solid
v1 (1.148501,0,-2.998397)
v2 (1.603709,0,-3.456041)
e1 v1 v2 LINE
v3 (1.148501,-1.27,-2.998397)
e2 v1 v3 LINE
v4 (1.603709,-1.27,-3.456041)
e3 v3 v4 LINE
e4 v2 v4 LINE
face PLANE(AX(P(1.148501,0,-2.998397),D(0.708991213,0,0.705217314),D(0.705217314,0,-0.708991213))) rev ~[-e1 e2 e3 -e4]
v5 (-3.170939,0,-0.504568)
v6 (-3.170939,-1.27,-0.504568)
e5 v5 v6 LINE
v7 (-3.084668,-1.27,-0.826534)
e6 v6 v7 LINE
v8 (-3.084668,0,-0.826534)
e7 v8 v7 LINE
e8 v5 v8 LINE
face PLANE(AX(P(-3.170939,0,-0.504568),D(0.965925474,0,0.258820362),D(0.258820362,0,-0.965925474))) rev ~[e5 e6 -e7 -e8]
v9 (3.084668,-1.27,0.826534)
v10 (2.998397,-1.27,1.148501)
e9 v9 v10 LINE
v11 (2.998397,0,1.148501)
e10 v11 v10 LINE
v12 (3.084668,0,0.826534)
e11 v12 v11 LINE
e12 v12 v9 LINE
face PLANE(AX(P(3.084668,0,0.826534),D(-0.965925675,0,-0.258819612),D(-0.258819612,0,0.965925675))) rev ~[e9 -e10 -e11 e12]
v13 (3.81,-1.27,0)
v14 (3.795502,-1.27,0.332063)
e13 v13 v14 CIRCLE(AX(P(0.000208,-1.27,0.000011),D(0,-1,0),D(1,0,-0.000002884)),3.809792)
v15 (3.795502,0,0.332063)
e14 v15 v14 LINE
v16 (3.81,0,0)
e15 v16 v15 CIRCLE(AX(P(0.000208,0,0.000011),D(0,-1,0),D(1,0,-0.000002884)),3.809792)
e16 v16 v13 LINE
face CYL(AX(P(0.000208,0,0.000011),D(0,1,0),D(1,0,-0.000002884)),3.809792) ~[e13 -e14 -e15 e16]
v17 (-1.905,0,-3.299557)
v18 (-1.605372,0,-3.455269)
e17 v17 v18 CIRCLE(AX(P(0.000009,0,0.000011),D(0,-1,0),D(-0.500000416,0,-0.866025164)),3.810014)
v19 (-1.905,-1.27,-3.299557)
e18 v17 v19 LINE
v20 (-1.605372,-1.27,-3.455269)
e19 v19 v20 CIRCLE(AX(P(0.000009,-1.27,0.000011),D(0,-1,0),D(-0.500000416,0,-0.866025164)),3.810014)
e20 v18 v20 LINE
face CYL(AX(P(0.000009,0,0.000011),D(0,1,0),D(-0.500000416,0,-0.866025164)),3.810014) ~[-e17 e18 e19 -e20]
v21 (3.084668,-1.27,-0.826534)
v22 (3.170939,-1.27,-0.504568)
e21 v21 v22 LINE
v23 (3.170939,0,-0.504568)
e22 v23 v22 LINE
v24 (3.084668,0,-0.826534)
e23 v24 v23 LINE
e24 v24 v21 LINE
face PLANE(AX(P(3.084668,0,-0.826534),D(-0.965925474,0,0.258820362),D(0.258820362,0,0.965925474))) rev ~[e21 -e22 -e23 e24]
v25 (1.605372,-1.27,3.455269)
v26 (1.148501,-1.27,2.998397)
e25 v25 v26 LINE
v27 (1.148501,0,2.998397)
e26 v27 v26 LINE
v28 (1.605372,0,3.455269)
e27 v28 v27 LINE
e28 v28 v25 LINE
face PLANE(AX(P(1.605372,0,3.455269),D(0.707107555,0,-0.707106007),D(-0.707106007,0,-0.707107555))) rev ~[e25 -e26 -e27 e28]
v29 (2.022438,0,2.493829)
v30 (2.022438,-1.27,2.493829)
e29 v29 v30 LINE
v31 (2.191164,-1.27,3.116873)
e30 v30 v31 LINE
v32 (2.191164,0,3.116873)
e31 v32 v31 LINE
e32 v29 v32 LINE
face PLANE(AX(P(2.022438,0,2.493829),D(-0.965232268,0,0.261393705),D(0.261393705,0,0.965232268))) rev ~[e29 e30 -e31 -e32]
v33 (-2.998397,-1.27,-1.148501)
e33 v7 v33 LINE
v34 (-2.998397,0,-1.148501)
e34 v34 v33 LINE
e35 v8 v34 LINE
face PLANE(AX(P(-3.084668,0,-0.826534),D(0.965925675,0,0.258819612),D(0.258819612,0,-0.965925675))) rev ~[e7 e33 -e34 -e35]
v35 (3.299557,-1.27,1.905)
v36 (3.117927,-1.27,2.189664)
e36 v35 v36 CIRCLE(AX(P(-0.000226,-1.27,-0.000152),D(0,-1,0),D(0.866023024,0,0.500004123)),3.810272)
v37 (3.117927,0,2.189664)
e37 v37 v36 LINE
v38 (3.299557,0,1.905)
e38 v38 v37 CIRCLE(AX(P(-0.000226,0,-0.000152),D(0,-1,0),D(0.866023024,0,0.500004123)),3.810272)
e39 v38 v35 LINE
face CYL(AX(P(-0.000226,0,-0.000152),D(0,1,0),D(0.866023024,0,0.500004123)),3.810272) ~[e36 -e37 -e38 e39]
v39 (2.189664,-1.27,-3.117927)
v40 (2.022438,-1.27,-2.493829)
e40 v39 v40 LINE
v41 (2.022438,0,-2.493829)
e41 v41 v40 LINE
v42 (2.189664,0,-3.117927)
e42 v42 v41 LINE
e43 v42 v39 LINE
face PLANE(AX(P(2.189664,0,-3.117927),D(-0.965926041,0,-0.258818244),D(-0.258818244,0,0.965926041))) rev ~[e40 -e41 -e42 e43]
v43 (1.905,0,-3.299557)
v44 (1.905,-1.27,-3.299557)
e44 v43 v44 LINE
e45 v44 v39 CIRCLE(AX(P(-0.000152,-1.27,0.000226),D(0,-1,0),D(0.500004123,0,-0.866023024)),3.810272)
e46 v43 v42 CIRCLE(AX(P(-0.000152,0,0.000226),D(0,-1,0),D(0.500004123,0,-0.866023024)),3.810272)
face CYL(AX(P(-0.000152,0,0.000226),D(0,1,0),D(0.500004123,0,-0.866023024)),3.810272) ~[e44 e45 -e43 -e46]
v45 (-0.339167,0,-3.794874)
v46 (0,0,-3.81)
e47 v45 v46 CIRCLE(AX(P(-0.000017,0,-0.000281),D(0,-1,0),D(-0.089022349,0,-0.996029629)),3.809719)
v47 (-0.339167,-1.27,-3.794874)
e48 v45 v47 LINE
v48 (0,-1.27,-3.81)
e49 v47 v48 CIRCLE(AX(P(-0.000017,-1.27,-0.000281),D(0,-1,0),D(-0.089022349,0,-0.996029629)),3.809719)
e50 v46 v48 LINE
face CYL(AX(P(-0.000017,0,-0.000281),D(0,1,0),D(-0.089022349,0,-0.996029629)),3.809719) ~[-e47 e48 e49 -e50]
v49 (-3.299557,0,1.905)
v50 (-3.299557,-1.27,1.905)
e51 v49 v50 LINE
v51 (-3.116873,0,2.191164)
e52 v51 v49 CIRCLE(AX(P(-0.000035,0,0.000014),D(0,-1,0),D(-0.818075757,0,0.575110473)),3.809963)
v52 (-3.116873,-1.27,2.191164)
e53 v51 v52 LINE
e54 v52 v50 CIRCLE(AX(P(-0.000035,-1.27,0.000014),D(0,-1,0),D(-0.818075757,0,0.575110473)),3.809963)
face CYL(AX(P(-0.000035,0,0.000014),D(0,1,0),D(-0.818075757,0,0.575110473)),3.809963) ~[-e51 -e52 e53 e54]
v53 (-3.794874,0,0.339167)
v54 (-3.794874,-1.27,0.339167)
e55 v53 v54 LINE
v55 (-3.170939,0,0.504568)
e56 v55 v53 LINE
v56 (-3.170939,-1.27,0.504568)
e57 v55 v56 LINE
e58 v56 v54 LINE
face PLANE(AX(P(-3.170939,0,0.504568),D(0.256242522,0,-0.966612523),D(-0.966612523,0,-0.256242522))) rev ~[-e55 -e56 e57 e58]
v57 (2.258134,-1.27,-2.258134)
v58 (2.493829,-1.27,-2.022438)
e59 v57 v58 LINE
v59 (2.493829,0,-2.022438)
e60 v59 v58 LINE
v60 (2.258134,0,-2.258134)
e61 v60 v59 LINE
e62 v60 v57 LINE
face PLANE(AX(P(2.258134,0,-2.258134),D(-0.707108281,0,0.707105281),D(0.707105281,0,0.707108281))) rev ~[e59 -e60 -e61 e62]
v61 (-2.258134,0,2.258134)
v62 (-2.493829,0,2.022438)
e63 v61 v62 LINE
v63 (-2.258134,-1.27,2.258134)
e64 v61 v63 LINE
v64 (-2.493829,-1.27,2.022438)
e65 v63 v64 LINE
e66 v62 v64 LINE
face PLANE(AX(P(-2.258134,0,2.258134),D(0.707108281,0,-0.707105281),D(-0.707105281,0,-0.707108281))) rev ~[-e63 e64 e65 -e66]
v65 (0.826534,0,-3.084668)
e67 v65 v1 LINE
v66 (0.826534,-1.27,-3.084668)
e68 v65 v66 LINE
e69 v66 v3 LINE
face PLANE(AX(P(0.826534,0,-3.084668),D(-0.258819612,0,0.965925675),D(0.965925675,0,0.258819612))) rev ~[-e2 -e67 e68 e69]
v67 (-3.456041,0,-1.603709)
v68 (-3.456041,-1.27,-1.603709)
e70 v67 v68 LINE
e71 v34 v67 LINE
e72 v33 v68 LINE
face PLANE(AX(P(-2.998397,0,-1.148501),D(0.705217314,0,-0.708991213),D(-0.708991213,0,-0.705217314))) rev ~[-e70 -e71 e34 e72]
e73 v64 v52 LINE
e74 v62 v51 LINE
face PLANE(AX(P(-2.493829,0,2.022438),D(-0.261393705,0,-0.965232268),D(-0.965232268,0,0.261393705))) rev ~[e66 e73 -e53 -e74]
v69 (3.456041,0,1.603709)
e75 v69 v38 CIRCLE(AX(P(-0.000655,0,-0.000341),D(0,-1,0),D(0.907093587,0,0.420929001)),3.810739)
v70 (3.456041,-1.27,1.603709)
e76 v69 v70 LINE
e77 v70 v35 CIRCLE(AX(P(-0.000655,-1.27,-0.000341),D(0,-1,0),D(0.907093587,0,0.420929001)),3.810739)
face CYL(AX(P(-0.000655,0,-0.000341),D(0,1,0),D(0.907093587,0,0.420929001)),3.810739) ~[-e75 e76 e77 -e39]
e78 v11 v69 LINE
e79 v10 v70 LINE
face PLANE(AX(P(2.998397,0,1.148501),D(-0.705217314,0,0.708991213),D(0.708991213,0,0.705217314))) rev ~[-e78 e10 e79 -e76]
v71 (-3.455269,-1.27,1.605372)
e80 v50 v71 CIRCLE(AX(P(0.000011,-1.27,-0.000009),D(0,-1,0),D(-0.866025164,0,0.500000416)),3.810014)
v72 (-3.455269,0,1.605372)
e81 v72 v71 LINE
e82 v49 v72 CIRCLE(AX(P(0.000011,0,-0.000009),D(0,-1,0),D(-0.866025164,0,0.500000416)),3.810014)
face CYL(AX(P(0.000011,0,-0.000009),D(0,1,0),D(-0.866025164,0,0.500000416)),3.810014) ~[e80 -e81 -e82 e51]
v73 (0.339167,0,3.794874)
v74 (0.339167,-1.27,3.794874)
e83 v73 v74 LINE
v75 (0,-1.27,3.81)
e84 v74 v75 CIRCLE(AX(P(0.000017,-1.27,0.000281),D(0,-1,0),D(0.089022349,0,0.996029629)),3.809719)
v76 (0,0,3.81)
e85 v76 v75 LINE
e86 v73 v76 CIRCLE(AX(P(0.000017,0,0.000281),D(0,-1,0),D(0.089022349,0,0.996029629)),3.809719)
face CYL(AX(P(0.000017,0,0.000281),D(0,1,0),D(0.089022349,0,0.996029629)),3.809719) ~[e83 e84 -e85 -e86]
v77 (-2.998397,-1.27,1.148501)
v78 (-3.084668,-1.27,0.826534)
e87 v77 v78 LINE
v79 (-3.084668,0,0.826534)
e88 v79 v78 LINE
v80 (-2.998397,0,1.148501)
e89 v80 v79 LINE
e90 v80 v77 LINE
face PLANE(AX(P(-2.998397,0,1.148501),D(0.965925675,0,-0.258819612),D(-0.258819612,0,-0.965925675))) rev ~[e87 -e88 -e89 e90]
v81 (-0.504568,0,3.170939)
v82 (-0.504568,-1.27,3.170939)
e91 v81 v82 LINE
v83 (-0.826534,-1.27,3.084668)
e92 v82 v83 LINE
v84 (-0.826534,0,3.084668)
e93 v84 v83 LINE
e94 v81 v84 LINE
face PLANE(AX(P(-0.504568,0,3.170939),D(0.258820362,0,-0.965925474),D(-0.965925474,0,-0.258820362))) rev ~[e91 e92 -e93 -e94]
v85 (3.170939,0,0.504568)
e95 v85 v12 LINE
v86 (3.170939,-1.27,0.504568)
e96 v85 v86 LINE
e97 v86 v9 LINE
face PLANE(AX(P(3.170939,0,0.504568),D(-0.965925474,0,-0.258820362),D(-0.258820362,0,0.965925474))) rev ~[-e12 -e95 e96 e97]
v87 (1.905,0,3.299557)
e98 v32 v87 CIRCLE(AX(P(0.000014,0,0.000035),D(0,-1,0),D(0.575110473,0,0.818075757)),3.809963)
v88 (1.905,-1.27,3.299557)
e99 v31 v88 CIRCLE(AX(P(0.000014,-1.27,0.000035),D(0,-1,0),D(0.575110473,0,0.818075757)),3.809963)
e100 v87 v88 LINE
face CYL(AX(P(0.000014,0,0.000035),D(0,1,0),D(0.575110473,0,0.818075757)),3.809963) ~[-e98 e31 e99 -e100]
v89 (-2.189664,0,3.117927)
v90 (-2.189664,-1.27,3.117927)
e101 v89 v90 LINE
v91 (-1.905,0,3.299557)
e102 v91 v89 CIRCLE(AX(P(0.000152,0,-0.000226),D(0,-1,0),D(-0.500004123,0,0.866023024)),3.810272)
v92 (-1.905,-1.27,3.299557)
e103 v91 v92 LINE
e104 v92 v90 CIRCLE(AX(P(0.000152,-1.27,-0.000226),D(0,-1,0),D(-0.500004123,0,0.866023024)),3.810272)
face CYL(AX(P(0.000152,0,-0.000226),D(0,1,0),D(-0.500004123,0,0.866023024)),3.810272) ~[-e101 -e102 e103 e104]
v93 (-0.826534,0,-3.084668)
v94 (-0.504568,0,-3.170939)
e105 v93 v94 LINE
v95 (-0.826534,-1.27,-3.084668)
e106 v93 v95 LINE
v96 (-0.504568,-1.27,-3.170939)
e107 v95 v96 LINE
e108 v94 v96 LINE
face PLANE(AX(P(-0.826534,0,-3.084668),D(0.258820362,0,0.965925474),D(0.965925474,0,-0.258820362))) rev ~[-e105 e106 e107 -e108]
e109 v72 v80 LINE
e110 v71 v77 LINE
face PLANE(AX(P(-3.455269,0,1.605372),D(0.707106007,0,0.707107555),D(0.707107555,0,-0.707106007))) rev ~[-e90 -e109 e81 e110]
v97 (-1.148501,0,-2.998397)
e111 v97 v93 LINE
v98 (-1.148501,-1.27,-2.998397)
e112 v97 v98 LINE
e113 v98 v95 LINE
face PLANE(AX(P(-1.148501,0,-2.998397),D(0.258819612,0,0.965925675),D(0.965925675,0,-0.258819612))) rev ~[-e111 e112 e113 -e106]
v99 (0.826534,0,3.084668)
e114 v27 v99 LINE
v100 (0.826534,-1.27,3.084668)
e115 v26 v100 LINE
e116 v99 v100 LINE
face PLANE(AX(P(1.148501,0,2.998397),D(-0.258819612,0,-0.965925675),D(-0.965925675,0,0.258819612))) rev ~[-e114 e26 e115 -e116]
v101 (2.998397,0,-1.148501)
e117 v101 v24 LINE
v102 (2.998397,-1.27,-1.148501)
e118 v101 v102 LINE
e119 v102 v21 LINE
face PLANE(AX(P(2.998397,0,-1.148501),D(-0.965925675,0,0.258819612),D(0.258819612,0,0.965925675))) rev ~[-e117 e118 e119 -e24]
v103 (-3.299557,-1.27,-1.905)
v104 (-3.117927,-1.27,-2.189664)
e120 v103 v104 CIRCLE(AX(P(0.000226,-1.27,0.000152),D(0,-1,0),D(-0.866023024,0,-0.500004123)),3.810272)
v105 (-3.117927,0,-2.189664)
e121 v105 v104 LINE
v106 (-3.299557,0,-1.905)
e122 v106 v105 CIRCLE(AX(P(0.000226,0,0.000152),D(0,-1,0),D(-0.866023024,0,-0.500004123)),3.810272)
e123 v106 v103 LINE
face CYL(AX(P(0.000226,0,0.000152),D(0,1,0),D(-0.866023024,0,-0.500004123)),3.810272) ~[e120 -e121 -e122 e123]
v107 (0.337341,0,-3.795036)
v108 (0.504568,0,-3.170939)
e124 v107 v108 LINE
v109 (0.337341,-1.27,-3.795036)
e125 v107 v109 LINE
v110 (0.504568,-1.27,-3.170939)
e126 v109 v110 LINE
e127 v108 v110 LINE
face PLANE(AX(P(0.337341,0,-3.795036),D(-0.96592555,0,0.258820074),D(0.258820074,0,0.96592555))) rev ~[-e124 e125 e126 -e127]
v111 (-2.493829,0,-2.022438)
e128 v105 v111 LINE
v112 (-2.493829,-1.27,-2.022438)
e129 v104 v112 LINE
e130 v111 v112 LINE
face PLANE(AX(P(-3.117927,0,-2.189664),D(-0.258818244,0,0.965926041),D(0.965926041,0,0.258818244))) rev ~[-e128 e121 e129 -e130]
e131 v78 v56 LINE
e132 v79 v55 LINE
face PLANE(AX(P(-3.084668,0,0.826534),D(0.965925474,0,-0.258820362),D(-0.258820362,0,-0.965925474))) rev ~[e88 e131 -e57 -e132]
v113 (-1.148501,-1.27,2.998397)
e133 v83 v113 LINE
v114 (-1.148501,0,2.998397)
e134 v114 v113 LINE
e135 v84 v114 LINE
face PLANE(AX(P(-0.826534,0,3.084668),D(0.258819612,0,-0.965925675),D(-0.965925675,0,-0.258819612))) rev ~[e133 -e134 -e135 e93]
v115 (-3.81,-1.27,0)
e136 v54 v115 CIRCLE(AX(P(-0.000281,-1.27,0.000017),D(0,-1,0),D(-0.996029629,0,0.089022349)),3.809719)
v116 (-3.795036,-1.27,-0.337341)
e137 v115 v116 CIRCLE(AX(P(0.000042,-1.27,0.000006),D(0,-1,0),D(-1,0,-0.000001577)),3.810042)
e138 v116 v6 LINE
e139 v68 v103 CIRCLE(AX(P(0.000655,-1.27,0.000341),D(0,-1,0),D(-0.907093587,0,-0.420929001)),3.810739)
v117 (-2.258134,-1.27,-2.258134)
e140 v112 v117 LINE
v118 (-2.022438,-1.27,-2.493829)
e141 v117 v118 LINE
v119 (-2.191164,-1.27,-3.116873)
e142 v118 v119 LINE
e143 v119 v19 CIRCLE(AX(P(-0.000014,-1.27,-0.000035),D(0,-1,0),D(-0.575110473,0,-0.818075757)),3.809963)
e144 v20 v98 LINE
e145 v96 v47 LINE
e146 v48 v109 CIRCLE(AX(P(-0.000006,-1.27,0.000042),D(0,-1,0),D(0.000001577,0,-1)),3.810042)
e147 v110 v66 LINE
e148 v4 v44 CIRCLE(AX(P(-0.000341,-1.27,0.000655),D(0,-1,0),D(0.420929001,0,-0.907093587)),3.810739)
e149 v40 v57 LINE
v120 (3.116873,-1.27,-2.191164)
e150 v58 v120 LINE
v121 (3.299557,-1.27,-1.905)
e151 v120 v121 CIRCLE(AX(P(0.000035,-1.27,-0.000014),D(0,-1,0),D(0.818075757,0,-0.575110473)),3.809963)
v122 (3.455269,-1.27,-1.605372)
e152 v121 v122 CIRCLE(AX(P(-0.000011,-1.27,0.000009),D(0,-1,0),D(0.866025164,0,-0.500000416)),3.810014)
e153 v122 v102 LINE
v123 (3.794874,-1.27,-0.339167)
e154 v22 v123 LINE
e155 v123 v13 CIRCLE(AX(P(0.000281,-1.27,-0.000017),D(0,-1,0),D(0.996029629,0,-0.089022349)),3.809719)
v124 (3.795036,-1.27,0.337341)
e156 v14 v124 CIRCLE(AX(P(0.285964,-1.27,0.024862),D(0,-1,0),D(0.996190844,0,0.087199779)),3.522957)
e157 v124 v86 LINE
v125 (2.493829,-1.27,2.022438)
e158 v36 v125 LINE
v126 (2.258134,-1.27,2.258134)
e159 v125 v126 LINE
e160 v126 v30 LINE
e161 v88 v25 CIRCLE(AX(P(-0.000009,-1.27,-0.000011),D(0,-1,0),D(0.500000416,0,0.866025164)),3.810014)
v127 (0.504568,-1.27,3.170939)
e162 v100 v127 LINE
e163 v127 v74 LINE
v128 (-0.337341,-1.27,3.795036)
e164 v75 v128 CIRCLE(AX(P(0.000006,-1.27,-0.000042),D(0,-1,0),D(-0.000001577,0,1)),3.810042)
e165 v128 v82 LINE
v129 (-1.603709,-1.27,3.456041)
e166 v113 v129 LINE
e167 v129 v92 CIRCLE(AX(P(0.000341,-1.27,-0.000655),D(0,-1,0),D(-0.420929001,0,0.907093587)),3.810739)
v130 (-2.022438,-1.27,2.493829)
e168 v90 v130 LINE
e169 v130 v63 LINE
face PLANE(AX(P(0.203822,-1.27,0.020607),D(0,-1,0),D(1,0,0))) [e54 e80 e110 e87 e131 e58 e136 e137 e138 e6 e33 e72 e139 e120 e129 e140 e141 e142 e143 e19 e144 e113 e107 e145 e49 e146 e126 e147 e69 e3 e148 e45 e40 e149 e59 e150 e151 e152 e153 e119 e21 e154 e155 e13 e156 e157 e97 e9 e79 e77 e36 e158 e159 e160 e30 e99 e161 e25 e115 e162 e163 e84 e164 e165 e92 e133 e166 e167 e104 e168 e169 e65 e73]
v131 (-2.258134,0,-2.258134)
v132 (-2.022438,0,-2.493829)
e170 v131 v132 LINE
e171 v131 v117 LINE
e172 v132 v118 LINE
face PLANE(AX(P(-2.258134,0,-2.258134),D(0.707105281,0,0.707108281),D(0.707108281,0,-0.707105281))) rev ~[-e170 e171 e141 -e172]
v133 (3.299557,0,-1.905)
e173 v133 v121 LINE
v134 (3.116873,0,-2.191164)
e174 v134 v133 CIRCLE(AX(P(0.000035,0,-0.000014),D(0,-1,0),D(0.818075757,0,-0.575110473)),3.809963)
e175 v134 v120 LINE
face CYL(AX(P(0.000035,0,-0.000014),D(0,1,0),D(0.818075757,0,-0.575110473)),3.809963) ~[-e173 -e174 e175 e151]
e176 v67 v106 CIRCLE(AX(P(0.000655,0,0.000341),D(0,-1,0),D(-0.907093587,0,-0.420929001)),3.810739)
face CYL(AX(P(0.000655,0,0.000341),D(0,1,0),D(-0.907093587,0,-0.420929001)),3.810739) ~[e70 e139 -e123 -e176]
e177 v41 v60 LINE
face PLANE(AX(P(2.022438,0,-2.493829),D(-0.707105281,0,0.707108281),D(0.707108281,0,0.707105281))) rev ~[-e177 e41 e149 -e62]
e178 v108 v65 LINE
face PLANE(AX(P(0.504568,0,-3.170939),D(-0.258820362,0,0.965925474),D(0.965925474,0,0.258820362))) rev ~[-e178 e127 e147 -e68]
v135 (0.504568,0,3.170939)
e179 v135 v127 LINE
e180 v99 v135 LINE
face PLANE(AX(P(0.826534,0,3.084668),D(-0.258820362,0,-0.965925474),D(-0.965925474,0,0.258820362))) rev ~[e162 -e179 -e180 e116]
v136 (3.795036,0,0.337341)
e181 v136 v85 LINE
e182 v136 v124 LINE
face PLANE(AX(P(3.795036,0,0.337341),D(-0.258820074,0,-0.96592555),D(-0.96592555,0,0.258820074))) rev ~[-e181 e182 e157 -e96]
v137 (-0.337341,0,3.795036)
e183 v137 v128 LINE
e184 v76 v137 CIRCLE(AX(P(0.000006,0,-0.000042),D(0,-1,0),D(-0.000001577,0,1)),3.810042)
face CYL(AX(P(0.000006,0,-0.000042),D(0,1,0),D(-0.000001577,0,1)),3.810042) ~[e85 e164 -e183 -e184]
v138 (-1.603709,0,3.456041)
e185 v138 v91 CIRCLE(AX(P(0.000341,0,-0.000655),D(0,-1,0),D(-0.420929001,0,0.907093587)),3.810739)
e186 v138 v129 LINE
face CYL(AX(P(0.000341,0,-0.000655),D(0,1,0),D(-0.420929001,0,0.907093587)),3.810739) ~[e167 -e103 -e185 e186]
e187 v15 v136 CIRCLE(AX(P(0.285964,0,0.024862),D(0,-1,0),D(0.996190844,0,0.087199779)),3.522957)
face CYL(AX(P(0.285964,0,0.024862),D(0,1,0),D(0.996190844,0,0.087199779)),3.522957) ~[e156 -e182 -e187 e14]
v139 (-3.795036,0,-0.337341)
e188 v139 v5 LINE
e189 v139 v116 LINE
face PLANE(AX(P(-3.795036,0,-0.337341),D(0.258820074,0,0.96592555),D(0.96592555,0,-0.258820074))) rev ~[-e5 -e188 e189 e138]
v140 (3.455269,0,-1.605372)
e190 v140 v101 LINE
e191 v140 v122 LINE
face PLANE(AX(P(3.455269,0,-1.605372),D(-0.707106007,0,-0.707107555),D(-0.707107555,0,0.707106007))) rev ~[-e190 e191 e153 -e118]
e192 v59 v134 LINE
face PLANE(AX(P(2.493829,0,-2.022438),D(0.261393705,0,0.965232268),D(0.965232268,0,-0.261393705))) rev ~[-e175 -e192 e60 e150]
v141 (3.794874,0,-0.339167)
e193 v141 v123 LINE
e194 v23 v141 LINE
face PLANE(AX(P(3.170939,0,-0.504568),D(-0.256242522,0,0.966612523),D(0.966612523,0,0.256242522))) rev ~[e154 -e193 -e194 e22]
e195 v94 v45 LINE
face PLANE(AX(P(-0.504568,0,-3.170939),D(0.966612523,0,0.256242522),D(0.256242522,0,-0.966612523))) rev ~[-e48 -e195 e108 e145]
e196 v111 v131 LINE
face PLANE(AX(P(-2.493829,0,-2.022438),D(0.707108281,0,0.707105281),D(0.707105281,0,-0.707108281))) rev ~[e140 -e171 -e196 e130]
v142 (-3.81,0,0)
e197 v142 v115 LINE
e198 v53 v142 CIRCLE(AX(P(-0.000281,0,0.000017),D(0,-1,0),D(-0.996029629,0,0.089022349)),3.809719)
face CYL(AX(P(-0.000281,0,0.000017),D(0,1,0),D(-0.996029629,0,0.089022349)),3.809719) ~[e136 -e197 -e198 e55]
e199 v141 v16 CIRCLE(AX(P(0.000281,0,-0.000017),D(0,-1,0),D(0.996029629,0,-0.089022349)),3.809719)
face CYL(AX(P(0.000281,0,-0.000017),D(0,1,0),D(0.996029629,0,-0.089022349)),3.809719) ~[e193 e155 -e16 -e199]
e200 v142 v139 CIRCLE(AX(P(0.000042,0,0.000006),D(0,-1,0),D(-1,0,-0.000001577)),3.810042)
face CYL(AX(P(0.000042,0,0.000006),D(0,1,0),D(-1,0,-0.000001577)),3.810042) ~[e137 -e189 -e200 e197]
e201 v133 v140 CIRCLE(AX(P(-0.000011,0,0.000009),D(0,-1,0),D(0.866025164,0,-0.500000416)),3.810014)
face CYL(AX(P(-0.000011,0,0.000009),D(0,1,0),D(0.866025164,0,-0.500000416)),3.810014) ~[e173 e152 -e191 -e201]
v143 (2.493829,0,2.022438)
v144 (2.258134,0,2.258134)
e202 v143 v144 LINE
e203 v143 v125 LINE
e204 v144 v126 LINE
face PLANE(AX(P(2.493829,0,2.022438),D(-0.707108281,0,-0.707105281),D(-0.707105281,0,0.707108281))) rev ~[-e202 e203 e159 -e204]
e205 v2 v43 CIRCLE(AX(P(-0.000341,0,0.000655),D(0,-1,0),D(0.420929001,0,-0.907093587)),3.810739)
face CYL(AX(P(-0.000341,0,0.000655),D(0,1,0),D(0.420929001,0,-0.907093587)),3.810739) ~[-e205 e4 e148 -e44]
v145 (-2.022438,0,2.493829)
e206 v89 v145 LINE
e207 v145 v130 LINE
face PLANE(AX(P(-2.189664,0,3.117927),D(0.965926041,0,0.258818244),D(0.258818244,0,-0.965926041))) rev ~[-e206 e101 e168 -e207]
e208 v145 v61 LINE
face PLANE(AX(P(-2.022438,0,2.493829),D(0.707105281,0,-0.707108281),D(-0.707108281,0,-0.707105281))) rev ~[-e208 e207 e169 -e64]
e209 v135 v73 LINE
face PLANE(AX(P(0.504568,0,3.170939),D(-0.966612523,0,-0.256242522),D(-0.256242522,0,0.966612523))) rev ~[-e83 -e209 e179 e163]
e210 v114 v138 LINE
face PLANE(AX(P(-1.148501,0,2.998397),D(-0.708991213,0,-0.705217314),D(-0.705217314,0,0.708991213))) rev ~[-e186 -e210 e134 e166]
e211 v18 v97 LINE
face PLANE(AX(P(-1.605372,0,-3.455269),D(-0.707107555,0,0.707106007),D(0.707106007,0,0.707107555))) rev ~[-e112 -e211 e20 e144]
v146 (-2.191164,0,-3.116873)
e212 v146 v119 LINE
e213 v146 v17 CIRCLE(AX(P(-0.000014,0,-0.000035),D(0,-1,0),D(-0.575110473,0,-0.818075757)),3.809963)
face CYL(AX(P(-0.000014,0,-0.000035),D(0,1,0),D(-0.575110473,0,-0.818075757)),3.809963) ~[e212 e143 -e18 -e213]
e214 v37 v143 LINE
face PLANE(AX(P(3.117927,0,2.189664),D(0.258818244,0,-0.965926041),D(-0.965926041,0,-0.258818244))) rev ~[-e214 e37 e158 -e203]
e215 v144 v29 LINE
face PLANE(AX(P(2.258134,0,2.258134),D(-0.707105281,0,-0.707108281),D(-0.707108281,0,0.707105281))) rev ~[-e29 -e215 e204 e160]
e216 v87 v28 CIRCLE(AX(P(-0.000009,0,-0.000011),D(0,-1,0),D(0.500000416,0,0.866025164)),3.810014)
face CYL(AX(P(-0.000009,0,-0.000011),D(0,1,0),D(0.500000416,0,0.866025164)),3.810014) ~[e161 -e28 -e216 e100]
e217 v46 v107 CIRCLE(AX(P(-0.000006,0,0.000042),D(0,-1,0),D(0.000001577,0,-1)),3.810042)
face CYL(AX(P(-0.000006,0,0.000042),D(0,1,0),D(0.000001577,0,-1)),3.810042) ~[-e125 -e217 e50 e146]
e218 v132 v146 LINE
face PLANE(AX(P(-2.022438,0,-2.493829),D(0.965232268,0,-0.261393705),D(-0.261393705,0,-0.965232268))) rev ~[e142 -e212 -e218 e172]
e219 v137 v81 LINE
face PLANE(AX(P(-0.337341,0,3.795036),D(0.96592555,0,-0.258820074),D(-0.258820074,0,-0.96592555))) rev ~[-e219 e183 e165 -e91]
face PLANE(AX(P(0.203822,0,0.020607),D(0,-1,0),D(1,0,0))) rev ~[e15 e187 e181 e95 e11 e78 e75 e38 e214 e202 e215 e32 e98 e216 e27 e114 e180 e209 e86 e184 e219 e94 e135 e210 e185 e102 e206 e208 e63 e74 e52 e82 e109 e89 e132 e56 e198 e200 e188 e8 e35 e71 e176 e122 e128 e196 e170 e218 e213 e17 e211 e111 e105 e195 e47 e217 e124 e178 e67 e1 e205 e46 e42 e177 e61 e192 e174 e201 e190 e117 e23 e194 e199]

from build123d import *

# Parameters (mm, degrees)
F1_DEPTH = 1.27


with BuildPart() as f1:
    # F0 (on Front) → F1 (new body)
    with BuildSketch(Plane.XZ):
        with BuildLine():
            ThreePointArc((3.794874, -0.339167), (3.806217, -0.169752), (3.81, 0))
            Line((3.81, 0), (0, 0))
            Line((0, 0), (3.084668, 0.826534))
            Line((3.084668, 0.826534), (2.998397, 1.148501))
            Line((2.998397, 1.148501), (3.456041, 1.603709))
            ThreePointArc((3.456041, 1.603709), (3.381156, 1.756098), (3.299557, 1.905))
            ThreePointArc((3.299557, 1.905), (3.211897, 2.049345), (3.117927, 2.189664))
            Line((3.117927, 2.189664), (2.493829, 2.022438))
            Line((2.493829, 2.022438), (2.258134, 2.258134))
            Line((2.258134, 2.258134), (2.022438, 2.493829))
            Line((2.022438, 2.493829), (2.191164, 3.116873))
            ThreePointArc((2.191164, 3.116873), (2.050118, 3.211404), (1.905, 3.299557))
            ThreePointArc((1.905, 3.299557), (1.756912, 3.380734), (1.605372, 3.455269))
            Line((1.605372, 3.455269), (1.148501, 2.998397))
            Line((1.148501, 2.998397), (0.826534, 3.084668))
            Line((0.826534, 3.084668), (0.504568, 3.170939))
            Line((0.504568, 3.170939), (0.339167, 3.794874))
            ThreePointArc((0.339167, 3.794874), (0.169752, 3.806217), (0, 3.81))
            ThreePointArc((0, 3.81), (-0.168837, 3.806257), (-0.337341, 3.795036))
            Line((-0.337341, 3.795036), (-0.504568, 3.170939))
            Line((-0.504568, 3.170939), (-0.826534, 3.084668))
            Line((-0.826534, 3.084668), (-1.148501, 2.998397))
            Line((-1.148501, 2.998397), (-1.603709, 3.456041))
            ThreePointArc((-1.603709, 3.456041), (-1.756098, 3.381156), (-1.905, 3.299557))
            ThreePointArc((-1.905, 3.299557), (-2.049345, 3.211897), (-2.189664, 3.117927))
            Line((-2.189664, 3.117927), (-2.022438, 2.493829))
            Line((-2.022438, 2.493829), (-2.258134, 2.258134))
            Line((-2.258134, 2.258134), (-2.493829, 2.022438))
            Line((-2.493829, 2.022438), (-3.116873, 2.191164))
            ThreePointArc((-3.116873, 2.191164), (-3.211404, 2.050118), (-3.299557, 1.905))
            ThreePointArc((-3.299557, 1.905), (-3.380734, 1.756912), (-3.455269, 1.605372))
            Line((-3.455269, 1.605372), (-2.998397, 1.148501))
            Line((-2.998397, 1.148501), (-3.084668, 0.826534))
            Line((-3.084668, 0.826534), (-3.170939, 0.504568))
            Line((-3.170939, 0.504568), (-3.794874, 0.339167))
            ThreePointArc((-3.794874, 0.339167), (-3.806217, 0.169752), (-3.81, 0))
            ThreePointArc((-3.81, 0), (-3.806257, -0.168837), (-3.795036, -0.337341))
            Line((-3.795036, -0.337341), (-3.170939, -0.504568))
            Line((-3.170939, -0.504568), (-3.084668, -0.826534))
            Line((-3.084668, -0.826534), (-2.998397, -1.148501))
            Line((-2.998397, -1.148501), (-3.456041, -1.603709))
            ThreePointArc((-3.456041, -1.603709), (-3.381156, -1.756098), (-3.299557, -1.905))
            ThreePointArc((-3.299557, -1.905), (-3.211897, -2.049345), (-3.117927, -2.189664))
            Line((-3.117927, -2.189664), (-2.493829, -2.022438))
            Line((-2.493829, -2.022438), (-2.258134, -2.258134))
            Line((-2.258134, -2.258134), (-2.022438, -2.493829))
            Line((-2.022438, -2.493829), (-2.191164, -3.116873))
            ThreePointArc((-2.191164, -3.116873), (-2.050118, -3.211404), (-1.905, -3.299557))
            ThreePointArc((-1.905, -3.299557), (-1.756912, -3.380734), (-1.605372, -3.455269))
            Line((-1.605372, -3.455269), (-1.148501, -2.998397))
            Line((-1.148501, -2.998397), (-0.826534, -3.084668))
            Line((-0.826534, -3.084668), (-0.504568, -3.170939))
            Line((-0.504568, -3.170939), (-0.339167, -3.794874))
            ThreePointArc((-0.339167, -3.794874), (-0.169752, -3.806217), (0, -3.81))
            ThreePointArc((0, -3.81), (0.168837, -3.806257), (0.337341, -3.795036))
            Line((0.337341, -3.795036), (0.504568, -3.170939))
            Line((0.504568, -3.170939), (0.826534, -3.084668))
            Line((0.826534, -3.084668), (1.148501, -2.998397))
            Line((1.148501, -2.998397), (1.603709, -3.456041))
            ThreePointArc((1.603709, -3.456041), (1.756098, -3.381156), (1.905, -3.299557))
            ThreePointArc((1.905, -3.299557), (2.049345, -3.211897), (2.189664, -3.117927))
            Line((2.189664, -3.117927), (2.022438, -2.493829))
            Line((2.022438, -2.493829), (2.258134, -2.258134))
            Line((2.258134, -2.258134), (2.493829, -2.022438))
            Line((2.493829, -2.022438), (3.116873, -2.191164))
            ThreePointArc((3.116873, -2.191164), (3.211404, -2.050118), (3.299557, -1.905))
            ThreePointArc((3.299557, -1.905), (3.380734, -1.756912), (3.455269, -1.605372))
            Line((3.455269, -1.605372), (2.998397, -1.148501))
            Line((2.998397, -1.148501), (3.084668, -0.826534))
            Line((3.084668, -0.826534), (3.170939, -0.504568))
            Line((3.170939, -0.504568), (3.794874, -0.339167))
        make_face()
        with BuildLine():
            Line((0, 0), (3.795502, 0.332063))
            ThreePointArc((3.795502, 0.332063), (3.79527, 0.334702), (3.795036, 0.337341))
            Line((3.795036, 0.337341), (3.170939, 0.504568))
            Line((3.170939, 0.504568), (3.084668, 0.826534))
            Line((3.084668, 0.826534), (0, 0))
        make_face()
        with BuildLine():
            Line((0, 0), (3.81, 0))
            ThreePointArc((3.81, 0), (3.806374, 0.16619), (3.795502, 0.332063))
            Line((3.795502, 0.332063), (0, 0))
        make_face()
    extrude(amount=F1_DEPTH)


solid = f1.part
